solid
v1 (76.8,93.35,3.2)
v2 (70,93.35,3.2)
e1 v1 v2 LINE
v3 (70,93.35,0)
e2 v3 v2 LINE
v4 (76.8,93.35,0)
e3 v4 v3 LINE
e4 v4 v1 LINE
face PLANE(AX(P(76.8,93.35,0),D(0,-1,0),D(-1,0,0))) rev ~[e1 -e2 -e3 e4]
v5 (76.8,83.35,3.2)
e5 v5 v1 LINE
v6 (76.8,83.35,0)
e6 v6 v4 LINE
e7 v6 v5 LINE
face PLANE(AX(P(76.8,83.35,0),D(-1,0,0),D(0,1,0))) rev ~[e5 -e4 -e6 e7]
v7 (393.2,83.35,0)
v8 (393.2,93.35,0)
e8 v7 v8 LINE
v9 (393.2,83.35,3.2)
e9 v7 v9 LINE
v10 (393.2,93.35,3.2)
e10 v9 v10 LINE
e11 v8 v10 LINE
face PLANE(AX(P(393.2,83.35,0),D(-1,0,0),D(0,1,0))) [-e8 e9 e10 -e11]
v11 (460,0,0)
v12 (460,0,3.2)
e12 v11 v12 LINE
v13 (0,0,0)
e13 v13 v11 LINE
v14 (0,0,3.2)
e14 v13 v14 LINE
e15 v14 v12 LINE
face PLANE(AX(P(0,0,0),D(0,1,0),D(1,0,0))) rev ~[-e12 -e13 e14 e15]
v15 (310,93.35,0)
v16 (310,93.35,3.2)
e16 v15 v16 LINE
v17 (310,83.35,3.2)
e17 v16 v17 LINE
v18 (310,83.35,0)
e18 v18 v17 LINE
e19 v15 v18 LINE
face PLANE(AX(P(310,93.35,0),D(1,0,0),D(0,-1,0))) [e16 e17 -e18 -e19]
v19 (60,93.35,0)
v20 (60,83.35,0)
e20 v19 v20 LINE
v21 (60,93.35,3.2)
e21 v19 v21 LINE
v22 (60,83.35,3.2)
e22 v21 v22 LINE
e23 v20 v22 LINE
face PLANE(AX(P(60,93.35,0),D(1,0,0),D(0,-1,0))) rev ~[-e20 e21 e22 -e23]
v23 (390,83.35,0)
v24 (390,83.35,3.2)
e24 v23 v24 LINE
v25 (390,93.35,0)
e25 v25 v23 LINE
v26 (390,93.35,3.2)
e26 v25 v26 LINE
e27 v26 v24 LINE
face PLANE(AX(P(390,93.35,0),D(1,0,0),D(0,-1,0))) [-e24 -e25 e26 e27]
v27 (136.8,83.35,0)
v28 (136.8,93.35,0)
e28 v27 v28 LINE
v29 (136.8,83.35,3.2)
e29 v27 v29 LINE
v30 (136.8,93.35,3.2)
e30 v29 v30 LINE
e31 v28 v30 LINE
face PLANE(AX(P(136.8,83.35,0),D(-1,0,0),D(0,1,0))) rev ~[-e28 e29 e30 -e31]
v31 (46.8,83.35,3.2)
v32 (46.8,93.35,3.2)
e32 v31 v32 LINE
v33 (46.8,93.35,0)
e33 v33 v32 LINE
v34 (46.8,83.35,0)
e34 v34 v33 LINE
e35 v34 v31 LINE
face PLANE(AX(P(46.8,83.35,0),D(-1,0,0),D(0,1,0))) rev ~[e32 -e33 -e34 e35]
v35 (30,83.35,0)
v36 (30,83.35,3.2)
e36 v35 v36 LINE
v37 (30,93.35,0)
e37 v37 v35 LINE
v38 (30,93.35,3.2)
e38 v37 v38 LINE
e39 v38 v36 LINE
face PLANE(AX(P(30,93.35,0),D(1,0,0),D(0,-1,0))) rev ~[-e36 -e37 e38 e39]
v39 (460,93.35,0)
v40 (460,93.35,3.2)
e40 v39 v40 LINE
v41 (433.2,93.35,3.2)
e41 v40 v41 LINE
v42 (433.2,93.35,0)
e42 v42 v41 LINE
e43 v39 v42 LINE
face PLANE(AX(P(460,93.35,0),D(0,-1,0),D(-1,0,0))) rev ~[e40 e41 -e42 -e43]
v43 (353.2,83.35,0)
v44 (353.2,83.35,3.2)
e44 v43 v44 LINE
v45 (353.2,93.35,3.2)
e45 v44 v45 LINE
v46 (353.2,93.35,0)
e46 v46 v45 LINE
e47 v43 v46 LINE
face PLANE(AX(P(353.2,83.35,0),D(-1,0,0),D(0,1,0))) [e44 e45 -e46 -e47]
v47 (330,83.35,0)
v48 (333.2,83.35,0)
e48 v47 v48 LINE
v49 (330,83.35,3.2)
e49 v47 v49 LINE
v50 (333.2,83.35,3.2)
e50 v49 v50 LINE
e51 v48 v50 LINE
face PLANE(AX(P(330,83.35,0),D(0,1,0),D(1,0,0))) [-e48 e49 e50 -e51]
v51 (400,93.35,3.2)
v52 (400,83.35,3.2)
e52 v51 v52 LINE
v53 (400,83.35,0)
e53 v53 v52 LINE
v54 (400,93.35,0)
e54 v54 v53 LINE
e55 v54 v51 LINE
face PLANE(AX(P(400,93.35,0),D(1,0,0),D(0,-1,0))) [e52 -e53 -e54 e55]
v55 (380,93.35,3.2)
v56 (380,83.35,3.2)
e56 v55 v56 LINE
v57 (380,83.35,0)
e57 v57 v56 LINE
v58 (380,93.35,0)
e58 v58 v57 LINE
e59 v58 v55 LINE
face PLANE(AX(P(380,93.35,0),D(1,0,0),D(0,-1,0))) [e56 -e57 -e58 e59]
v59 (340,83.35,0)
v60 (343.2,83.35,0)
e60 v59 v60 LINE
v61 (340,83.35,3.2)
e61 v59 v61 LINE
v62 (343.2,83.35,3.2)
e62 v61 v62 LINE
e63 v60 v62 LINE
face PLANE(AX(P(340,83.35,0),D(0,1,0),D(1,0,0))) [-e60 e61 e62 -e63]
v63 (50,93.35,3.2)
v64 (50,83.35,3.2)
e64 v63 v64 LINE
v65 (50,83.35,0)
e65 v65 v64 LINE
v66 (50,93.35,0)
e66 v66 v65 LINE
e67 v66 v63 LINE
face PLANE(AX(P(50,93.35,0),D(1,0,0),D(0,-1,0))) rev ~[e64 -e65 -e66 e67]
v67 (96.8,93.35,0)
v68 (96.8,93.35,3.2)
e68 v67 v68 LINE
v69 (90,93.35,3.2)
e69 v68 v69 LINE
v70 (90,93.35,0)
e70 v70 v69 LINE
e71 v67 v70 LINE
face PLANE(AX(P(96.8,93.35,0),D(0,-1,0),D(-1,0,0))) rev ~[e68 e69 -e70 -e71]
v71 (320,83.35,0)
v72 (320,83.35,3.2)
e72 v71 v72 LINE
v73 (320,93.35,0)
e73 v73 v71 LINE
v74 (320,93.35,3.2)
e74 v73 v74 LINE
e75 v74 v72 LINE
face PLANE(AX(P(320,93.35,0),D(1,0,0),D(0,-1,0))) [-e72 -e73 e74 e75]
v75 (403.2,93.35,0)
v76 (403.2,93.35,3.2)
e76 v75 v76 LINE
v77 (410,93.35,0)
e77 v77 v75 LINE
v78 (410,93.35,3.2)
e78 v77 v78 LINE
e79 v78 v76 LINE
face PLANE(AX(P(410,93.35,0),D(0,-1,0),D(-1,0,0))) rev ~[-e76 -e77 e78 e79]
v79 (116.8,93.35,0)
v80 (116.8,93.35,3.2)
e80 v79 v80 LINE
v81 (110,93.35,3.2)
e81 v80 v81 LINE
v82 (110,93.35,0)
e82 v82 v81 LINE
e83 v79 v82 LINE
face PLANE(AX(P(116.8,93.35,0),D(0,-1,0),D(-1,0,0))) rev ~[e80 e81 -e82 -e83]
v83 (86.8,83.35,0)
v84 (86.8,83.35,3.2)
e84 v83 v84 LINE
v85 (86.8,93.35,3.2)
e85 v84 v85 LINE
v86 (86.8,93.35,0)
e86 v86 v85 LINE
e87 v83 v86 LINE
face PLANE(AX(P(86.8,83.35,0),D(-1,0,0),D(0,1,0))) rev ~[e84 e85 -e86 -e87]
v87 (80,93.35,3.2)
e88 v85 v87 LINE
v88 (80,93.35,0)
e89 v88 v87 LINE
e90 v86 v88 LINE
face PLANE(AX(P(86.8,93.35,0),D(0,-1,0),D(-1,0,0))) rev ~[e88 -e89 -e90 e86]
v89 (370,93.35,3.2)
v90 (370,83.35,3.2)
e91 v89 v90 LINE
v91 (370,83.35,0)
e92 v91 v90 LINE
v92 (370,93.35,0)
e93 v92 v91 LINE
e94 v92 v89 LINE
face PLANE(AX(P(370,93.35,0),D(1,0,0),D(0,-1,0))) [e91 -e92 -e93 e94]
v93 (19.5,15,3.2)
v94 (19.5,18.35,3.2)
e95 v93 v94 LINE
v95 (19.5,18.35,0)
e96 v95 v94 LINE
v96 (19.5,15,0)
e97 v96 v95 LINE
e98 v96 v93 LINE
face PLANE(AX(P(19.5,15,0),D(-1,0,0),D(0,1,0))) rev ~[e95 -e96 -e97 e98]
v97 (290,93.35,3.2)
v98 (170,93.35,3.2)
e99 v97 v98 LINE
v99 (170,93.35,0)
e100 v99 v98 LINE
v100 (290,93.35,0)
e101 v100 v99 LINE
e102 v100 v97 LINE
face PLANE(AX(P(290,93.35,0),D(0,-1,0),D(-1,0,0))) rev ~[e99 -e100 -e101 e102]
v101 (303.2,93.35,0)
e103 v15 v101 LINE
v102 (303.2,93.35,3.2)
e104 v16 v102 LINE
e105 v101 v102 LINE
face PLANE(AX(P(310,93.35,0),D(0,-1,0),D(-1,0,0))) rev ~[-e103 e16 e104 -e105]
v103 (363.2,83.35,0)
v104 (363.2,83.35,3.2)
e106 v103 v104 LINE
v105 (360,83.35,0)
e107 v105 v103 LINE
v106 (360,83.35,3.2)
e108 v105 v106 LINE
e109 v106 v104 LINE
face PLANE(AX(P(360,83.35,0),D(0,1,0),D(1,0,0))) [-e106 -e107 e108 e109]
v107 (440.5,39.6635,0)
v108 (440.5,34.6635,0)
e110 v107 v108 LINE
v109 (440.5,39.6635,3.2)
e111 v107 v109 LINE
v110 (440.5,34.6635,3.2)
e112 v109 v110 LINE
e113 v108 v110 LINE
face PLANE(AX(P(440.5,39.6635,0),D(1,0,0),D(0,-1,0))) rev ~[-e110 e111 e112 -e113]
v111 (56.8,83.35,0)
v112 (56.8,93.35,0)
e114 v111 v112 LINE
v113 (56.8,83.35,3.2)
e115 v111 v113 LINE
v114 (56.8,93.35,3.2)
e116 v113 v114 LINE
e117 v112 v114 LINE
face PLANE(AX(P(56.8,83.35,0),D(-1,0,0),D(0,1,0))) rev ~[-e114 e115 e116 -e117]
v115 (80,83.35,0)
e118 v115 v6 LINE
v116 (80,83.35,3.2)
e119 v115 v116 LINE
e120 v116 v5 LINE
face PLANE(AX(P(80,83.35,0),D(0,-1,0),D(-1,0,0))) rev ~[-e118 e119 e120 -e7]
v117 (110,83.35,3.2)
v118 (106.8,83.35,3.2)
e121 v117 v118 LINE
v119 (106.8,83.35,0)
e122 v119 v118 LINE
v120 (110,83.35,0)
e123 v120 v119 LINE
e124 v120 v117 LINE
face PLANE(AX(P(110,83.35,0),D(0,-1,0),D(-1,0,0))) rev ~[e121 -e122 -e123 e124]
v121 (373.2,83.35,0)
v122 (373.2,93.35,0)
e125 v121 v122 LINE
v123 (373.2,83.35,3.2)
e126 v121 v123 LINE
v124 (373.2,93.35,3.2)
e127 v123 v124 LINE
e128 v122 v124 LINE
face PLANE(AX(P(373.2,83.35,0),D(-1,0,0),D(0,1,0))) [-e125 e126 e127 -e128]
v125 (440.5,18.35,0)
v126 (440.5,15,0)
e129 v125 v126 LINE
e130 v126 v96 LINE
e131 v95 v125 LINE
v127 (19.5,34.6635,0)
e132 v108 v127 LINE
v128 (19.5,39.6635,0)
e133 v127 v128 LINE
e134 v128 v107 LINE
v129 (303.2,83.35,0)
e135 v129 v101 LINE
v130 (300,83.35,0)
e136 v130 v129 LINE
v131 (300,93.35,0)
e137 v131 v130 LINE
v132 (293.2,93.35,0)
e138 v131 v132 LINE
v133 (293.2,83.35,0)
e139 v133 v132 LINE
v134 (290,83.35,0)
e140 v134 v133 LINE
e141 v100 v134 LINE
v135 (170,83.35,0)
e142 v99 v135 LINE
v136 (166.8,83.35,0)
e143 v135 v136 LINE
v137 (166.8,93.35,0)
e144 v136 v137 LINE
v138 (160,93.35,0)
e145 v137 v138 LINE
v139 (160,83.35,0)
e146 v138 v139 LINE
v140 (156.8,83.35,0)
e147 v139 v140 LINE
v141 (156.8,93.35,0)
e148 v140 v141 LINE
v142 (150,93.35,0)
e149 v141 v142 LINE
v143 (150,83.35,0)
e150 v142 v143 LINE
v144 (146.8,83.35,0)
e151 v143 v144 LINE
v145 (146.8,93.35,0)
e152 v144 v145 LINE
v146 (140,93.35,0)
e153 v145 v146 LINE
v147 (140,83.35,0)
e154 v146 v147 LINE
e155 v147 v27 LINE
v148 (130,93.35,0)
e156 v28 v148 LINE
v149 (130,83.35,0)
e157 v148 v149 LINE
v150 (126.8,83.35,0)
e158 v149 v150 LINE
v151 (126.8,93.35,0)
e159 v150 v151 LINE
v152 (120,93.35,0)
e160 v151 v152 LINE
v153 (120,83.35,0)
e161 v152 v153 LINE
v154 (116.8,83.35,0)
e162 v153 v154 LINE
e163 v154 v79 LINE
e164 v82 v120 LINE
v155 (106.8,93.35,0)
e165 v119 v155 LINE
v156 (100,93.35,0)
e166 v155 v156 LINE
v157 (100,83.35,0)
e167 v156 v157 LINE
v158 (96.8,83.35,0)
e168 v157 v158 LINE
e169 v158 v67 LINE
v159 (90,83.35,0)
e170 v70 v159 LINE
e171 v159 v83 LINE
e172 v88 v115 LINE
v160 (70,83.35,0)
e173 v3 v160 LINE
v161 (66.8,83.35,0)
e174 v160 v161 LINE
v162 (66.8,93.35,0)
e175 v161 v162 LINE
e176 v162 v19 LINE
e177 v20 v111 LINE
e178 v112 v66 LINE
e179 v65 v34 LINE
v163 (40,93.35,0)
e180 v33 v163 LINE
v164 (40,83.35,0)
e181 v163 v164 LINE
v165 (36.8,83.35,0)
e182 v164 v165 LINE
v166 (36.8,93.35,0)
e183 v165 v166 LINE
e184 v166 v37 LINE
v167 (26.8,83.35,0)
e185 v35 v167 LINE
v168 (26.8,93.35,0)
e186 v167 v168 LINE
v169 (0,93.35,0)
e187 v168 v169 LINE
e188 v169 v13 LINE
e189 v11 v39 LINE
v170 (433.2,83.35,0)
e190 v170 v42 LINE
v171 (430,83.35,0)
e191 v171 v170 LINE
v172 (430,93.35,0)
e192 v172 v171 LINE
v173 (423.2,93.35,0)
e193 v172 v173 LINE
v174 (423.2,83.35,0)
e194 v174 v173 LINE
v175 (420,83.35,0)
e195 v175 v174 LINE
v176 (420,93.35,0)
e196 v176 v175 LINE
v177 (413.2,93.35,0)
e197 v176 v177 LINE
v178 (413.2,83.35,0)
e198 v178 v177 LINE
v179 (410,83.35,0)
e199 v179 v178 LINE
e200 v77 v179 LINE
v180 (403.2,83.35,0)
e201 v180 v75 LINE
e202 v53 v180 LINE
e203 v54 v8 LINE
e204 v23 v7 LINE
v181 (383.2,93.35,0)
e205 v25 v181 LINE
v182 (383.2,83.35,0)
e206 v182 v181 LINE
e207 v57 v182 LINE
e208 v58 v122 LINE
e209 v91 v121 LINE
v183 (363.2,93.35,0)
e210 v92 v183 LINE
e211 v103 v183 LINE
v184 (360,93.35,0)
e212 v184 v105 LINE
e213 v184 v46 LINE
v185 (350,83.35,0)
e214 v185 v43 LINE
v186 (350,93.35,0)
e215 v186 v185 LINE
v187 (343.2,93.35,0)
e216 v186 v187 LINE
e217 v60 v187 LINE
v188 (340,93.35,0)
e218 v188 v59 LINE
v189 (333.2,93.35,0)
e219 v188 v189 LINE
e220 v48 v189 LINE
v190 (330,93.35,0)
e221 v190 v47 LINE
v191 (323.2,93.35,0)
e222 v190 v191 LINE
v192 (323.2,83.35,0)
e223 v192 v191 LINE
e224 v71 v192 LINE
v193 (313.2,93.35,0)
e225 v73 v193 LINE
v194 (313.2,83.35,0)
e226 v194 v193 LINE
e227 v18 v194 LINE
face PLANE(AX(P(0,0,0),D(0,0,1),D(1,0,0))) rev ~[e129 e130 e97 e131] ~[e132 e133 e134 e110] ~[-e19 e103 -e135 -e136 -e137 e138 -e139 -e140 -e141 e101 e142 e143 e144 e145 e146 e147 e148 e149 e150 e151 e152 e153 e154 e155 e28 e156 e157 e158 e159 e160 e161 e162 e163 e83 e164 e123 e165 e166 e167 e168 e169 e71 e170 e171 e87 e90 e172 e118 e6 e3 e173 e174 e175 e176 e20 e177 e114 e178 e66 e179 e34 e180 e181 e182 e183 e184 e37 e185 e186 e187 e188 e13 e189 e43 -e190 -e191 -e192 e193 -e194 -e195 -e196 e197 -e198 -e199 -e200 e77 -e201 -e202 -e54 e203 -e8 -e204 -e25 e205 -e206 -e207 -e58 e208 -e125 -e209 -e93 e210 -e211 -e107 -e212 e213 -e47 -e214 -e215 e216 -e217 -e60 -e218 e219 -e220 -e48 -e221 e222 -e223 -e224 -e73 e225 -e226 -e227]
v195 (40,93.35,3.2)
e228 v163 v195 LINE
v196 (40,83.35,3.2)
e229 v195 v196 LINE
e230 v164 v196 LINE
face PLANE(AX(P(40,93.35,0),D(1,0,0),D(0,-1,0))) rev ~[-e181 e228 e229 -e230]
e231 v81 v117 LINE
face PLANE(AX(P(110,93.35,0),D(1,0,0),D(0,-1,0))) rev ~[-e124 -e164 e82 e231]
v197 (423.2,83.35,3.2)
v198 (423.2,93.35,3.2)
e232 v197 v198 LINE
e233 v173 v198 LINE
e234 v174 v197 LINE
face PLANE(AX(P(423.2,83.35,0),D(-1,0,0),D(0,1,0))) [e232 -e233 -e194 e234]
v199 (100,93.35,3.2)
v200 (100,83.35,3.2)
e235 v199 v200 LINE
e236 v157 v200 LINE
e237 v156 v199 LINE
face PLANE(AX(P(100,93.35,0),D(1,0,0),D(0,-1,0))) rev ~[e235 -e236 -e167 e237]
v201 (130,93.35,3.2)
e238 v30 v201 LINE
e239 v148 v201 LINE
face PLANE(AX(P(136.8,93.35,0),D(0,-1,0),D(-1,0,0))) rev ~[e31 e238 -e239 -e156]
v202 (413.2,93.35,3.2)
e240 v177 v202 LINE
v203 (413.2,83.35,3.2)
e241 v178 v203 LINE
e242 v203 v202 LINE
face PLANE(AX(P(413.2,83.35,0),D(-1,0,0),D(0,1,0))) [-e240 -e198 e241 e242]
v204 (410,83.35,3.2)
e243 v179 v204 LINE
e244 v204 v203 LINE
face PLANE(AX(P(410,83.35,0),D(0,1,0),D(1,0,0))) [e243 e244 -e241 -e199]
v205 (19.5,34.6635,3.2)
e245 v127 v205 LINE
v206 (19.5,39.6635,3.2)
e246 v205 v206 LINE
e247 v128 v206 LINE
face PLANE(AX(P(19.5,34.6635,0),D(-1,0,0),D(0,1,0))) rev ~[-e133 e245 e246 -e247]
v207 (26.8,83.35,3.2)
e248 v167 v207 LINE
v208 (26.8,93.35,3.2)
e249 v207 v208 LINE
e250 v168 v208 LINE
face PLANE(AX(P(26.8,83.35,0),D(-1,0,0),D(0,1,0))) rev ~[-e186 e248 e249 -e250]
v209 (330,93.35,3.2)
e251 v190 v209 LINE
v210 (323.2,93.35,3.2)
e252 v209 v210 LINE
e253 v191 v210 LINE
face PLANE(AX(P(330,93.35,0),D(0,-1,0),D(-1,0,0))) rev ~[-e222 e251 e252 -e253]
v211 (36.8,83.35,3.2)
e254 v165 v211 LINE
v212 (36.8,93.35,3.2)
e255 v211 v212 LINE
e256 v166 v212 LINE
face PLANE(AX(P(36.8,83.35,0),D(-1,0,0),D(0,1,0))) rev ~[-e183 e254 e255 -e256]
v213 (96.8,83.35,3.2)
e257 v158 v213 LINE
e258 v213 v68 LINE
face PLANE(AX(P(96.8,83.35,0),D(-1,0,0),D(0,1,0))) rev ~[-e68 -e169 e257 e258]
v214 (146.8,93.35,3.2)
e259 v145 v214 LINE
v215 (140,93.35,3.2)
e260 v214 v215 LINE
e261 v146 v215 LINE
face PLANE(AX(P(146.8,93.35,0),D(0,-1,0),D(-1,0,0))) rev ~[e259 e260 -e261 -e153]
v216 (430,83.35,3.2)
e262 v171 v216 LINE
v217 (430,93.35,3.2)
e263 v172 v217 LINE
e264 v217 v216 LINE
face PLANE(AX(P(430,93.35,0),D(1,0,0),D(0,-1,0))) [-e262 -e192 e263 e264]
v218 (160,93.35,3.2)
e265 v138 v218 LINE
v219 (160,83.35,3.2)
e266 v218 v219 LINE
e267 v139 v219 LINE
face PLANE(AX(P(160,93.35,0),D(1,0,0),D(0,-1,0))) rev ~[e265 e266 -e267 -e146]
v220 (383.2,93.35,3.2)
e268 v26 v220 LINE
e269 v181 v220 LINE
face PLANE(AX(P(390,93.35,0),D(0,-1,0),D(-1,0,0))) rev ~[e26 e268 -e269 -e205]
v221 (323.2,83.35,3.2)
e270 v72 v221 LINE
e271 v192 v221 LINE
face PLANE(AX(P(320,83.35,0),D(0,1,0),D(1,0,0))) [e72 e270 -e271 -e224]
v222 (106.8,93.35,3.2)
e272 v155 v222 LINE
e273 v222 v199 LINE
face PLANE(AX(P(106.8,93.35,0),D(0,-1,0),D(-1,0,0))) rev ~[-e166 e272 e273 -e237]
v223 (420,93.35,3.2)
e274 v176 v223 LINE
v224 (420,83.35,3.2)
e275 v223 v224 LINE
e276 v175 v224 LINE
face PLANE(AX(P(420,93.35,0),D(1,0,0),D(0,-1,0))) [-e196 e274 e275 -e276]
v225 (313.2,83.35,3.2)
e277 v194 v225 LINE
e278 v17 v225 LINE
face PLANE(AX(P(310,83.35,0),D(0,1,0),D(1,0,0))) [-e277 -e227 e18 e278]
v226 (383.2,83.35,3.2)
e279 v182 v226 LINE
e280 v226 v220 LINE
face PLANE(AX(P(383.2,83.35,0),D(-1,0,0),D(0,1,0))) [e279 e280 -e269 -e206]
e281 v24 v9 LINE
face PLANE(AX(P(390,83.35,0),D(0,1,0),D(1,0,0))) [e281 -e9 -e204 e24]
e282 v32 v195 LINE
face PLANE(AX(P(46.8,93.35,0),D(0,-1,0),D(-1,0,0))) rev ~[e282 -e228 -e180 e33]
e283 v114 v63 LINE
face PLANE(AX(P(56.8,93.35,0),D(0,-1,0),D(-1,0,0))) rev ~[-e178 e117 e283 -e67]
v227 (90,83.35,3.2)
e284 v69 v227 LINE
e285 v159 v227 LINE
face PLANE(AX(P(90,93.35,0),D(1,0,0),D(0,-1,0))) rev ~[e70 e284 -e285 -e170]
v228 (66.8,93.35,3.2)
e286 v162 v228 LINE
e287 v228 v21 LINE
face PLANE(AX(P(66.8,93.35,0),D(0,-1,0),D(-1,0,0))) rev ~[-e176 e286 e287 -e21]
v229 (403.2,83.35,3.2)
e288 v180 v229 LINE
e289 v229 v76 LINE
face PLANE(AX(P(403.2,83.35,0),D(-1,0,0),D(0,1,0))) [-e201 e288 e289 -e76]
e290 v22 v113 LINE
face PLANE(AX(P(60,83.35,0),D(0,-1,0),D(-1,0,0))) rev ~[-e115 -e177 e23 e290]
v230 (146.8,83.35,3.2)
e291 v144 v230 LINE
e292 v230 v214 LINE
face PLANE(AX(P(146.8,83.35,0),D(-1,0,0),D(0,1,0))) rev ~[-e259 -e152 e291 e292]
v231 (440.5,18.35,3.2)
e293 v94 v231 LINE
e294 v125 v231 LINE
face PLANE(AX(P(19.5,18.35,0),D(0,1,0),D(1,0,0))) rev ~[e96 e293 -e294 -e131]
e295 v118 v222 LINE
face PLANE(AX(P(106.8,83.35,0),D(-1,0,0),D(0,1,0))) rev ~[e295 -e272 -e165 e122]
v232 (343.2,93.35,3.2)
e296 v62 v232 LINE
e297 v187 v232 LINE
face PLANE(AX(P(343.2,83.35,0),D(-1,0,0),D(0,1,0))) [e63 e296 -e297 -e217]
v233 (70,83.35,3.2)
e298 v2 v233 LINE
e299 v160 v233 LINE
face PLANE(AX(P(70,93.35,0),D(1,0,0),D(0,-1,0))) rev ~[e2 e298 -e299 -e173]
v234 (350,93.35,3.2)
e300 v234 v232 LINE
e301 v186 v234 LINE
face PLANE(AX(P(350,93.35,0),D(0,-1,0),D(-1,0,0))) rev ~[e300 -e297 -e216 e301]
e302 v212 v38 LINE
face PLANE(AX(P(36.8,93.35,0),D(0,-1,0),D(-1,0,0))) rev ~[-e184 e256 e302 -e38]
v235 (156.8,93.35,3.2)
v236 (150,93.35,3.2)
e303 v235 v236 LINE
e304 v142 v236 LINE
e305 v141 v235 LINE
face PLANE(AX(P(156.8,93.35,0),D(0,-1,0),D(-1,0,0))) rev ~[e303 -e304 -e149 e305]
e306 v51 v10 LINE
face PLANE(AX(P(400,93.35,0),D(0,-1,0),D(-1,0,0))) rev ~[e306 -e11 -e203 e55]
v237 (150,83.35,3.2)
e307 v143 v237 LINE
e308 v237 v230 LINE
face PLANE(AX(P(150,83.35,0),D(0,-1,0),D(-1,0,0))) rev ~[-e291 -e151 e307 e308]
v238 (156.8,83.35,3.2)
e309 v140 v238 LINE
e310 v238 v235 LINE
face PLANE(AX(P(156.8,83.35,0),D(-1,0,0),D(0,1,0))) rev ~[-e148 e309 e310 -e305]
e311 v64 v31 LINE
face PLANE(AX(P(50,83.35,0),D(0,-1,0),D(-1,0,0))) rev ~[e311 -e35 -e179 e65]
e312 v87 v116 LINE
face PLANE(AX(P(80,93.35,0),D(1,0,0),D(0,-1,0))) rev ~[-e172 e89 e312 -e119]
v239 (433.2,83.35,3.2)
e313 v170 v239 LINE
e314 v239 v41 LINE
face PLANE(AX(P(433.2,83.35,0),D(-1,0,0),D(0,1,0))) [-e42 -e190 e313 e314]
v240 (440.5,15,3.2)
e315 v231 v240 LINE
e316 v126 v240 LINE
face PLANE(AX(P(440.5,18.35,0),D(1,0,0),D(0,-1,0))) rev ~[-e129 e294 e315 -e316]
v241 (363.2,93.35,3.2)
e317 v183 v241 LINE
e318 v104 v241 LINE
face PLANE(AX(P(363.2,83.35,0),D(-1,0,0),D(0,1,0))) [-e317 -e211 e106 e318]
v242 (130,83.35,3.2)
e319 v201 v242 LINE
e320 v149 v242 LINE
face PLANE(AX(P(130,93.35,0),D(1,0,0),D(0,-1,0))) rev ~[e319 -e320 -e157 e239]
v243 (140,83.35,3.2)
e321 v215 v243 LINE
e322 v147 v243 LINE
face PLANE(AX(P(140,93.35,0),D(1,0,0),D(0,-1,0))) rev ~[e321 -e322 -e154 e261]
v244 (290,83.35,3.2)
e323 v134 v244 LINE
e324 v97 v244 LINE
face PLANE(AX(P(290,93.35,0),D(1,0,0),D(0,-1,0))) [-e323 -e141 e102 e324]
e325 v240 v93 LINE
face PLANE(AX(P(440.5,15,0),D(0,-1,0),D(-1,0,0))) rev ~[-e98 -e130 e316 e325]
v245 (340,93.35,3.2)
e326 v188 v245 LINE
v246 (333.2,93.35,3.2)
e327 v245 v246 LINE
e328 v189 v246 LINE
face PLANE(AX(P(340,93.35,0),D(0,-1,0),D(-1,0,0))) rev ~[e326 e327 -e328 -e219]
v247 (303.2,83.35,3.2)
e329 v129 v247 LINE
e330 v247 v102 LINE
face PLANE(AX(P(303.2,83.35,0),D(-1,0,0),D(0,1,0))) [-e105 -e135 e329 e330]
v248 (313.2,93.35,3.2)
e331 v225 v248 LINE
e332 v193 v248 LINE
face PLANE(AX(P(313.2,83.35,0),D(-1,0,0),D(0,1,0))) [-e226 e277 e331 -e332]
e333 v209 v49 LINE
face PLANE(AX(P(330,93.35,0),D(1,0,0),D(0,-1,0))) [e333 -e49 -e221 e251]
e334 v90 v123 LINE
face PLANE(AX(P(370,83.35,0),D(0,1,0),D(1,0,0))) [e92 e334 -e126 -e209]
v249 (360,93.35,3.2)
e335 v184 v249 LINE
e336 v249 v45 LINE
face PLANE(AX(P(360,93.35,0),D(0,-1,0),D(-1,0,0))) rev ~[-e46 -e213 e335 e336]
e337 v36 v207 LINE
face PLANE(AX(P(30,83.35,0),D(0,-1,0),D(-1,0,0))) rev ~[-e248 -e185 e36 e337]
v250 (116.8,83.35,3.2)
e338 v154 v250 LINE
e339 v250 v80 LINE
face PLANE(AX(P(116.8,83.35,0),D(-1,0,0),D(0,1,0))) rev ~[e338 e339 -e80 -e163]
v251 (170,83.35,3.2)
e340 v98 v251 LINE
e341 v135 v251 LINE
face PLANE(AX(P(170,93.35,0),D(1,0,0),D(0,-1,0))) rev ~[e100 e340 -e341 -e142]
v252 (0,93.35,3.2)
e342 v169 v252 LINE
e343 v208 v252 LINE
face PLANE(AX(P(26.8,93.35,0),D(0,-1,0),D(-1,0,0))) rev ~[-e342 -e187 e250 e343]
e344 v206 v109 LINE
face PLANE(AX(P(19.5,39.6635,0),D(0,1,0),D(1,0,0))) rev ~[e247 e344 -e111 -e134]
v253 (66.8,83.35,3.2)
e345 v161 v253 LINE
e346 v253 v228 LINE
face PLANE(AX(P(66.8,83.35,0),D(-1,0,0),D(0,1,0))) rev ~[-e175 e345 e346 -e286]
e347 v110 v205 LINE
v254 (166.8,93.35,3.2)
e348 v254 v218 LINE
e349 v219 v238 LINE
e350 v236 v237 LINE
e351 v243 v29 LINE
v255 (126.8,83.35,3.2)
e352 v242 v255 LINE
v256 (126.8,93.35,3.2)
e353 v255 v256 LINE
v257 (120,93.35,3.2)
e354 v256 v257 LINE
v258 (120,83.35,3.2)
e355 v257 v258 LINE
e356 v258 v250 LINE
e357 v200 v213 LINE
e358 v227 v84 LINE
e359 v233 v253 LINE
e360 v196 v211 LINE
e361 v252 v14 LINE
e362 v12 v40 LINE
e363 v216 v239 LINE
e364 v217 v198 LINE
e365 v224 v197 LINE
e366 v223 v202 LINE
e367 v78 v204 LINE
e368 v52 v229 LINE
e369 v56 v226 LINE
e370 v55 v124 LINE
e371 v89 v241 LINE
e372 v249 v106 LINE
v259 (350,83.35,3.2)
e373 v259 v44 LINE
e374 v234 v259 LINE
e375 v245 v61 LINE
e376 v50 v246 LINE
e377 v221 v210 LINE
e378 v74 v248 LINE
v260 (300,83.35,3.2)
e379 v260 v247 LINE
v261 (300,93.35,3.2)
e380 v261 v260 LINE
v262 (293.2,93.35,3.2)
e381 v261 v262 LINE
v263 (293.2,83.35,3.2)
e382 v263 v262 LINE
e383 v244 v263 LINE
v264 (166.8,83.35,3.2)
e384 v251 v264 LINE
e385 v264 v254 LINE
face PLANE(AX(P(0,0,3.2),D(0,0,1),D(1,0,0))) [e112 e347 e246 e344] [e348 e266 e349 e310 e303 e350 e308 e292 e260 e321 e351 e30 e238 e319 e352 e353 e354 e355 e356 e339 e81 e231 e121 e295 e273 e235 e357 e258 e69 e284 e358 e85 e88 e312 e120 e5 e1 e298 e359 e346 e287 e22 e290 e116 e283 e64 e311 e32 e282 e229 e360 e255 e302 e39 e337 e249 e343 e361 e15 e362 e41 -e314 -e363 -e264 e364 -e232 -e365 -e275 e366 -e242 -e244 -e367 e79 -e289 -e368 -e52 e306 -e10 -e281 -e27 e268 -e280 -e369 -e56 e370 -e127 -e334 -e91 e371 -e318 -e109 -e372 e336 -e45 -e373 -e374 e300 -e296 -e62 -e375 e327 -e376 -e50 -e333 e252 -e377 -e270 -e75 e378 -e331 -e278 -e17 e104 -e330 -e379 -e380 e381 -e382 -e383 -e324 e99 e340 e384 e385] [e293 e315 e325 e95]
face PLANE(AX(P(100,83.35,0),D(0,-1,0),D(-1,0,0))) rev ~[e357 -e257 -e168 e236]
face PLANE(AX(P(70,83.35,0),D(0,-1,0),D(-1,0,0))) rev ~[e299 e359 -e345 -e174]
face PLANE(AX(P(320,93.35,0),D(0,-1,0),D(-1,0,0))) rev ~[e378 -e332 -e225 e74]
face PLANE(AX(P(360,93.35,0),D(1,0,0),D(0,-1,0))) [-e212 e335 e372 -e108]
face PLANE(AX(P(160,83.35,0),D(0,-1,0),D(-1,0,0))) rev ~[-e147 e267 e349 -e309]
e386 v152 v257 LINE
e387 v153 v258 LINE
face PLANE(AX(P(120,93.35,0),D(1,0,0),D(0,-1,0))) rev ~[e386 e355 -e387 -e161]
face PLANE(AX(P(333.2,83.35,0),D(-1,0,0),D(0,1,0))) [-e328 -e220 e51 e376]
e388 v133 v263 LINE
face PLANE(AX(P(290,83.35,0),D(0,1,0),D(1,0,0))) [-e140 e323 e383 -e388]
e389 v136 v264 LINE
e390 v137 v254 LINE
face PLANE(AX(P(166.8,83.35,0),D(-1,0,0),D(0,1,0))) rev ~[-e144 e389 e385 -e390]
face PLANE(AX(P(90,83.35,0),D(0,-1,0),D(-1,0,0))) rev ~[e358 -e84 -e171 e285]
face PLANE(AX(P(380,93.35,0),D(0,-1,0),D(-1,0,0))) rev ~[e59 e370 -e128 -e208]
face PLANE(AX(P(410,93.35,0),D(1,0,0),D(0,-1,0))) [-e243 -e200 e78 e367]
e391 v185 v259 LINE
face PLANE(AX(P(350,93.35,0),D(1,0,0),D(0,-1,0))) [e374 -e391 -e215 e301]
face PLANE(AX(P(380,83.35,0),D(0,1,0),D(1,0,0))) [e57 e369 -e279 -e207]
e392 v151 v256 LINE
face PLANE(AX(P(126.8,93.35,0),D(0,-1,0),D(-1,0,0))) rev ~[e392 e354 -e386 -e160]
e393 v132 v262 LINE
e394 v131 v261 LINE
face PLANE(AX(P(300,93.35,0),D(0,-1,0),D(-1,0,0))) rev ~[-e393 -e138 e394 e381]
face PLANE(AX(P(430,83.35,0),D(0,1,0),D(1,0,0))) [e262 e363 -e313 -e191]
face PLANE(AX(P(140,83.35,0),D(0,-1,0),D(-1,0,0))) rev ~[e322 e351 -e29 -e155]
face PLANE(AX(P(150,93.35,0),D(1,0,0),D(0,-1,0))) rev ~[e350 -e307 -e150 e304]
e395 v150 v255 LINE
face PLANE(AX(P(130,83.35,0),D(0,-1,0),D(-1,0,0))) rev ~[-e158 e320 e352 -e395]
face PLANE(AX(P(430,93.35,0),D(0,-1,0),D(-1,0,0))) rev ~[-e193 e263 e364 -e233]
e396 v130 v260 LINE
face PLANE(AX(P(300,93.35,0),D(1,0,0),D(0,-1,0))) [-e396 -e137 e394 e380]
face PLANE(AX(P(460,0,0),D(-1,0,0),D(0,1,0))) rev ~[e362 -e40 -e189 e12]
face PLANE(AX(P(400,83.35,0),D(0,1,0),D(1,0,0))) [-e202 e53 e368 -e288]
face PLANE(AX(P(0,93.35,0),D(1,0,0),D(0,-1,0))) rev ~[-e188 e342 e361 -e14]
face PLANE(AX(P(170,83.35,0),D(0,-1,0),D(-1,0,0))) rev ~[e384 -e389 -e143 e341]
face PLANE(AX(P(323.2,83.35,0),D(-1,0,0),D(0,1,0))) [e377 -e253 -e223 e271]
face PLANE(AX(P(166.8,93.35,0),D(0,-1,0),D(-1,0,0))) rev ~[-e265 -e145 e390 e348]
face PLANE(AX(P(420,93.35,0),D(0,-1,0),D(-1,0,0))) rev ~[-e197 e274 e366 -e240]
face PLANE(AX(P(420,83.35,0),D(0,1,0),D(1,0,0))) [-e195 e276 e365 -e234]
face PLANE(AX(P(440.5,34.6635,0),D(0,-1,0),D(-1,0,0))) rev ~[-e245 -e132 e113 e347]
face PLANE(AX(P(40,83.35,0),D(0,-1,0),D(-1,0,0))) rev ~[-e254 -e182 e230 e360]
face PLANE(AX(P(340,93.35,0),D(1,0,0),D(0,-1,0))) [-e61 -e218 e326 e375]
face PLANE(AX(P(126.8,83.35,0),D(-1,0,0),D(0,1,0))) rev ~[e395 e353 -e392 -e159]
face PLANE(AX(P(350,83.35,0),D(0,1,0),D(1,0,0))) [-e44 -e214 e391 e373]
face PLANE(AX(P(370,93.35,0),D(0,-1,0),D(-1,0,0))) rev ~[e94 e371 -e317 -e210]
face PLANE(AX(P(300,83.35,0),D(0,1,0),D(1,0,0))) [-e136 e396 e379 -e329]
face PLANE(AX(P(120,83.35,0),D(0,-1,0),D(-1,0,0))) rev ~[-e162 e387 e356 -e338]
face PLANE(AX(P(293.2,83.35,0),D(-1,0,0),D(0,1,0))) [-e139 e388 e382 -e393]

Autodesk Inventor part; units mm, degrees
ref_plane "YZ Plane" through (0, 0, 0) normal (1, 0, 0) x (0, 1, 0)
ref_plane "XZ Plane" through (0, 0, 0) normal (0, 1, 0) x (-1, 0, 0)
ref_plane "XY Plane" through (0, 0, 0) normal (0, 0, 1) x (1, 0, 0)
sketch "Sketch1" plane through (0, 0, 0) normal (0, 0, 1) x (1, 0, 0)
  line L0 (0, 0) -> (460, 0)
  line L1 (460, 0) -> (460, 93.35)
  line L2 (460, 93.35) -> (0, 93.35)
  line L3 (0, 93.35) -> (0, 0)
  line L4 (19.5, 18.35) -> (440.5, 18.35)
  line L5 (440.5, 18.35) -> (440.5, 15)
  line L6 (440.5, 15) -> (19.5, 15)
  line L7 (19.5, 15) -> (19.5, 18.35)
  line L8 (26.8, 93.35) -> (30, 93.35)
  line L9 (30, 93.35) -> (30, 83.35)
  line L10 (30, 83.35) -> (26.8, 83.35)
  line L11 (26.8, 83.35) -> (26.8, 93.35)
  line L12 (230, 0) -> (230, 93.35) construction
  line L13 (40, 93.35) -> (40, 83.35)
  line L14 (40, 83.35) -> (36.8, 83.35)
  line L15 (36.8, 83.35) -> (36.8, 93.35)
  line L16 (36.8, 93.35) -> (40, 93.35)
  line L17 (50, 93.35) -> (50, 83.35)
  line L18 (50, 83.35) -> (46.8, 83.35)
  line L19 (46.8, 83.35) -> (46.8, 93.35)
  line L20 (46.8, 93.35) -> (50, 93.35)
  line L21 (60, 93.35) -> (60, 83.35)
  line L22 (60, 83.35) -> (56.8, 83.35)
  line L23 (56.8, 83.35) -> (56.8, 93.35)
  line L24 (56.8, 93.35) -> (60, 93.35)
  line L25 (70, 93.35) -> (70, 83.35)
  line L26 (70, 83.35) -> (66.8, 83.35)
  line L27 (66.8, 83.35) -> (66.8, 93.35)
  line L28 (66.8, 93.35) -> (70, 93.35)
  line L29 (80, 93.35) -> (80, 83.35)
  line L30 (80, 83.35) -> (76.8, 83.35)
  line L31 (76.8, 83.35) -> (76.8, 93.35)
  line L32 (76.8, 93.35) -> (80, 93.35)
  line L33 (90, 93.35) -> (90, 83.35)
  line L34 (90, 83.35) -> (86.8, 83.35)
  line L35 (86.8, 83.35) -> (86.8, 93.35)
  line L36 (86.8, 93.35) -> (90, 93.35)
  line L37 (100, 93.35) -> (100, 83.35)
  line L38 (100, 83.35) -> (96.8, 83.35)
  line L39 (96.8, 83.35) -> (96.8, 93.35)
  line L40 (96.8, 93.35) -> (100, 93.35)
  line L41 (110, 93.35) -> (110, 83.35)
  line L42 (110, 83.35) -> (106.8, 83.35)
  line L43 (106.8, 83.35) -> (106.8, 93.35)
  line L44 (106.8, 93.35) -> (110, 93.35)
  line L45 (120, 93.35) -> (120, 83.35)
  line L46 (120, 83.35) -> (116.8, 83.35)
  line L47 (116.8, 83.35) -> (116.8, 93.35)
  line L48 (116.8, 93.35) -> (120, 93.35)
  line L49 (130, 93.35) -> (130, 83.35)
  line L50 (130, 83.35) -> (126.8, 83.35)
  line L51 (126.8, 83.35) -> (126.8, 93.35)
  line L52 (126.8, 93.35) -> (130, 93.35)
  line L53 (140, 93.35) -> (140, 83.35)
  line L54 (140, 83.35) -> (136.8, 83.35)
  line L55 (136.8, 83.35) -> (136.8, 93.35)
  line L56 (136.8, 93.35) -> (140, 93.35)
  line L57 (150, 93.35) -> (150, 83.35)
  line L58 (150, 83.35) -> (146.8, 83.35)
  line L59 (146.8, 83.35) -> (146.8, 93.35)
  line L60 (146.8, 93.35) -> (150, 93.35)
  line L61 (160, 93.35) -> (160, 83.35)
  line L62 (160, 83.35) -> (156.8, 83.35)
  line L63 (156.8, 83.35) -> (156.8, 93.35)
  line L64 (156.8, 93.35) -> (160, 93.35)
  line L65 (170, 93.35) -> (170, 83.35)
  line L66 (170, 83.35) -> (166.8, 83.35)
  line L67 (166.8, 83.35) -> (166.8, 93.35)
  line L68 (166.8, 93.35) -> (170, 93.35)
  line L69 (433.2, 93.35) -> (430, 93.35)
  line L70 (430, 93.35) -> (430, 83.35)
  line L71 (430, 83.35) -> (433.2, 83.35)
  line L72 (433.2, 83.35) -> (433.2, 93.35)
  line L73 (420, 93.35) -> (420, 83.35)
  line L74 (420, 83.35) -> (423.2, 83.35)
  line L75 (423.2, 83.35) -> (423.2, 93.35)
  line L76 (423.2, 93.35) -> (420, 93.35)
  line L77 (410, 93.35) -> (410, 83.35)
  line L78 (410, 83.35) -> (413.2, 83.35)
  line L79 (413.2, 83.35) -> (413.2, 93.35)
  line L80 (413.2, 93.35) -> (410, 93.35)
  line L81 (400, 93.35) -> (400, 83.35)
  line L82 (400, 83.35) -> (403.2, 83.35)
  line L83 (403.2, 83.35) -> (403.2, 93.35)
  line L84 (403.2, 93.35) -> (400, 93.35)
  line L85 (390, 93.35) -> (390, 83.35)
  line L86 (390, 83.35) -> (393.2, 83.35)
  line L87 (393.2, 83.35) -> (393.2, 93.35)
  line L88 (393.2, 93.35) -> (390, 93.35)
  line L89 (380, 93.35) -> (380, 83.35)
  line L90 (380, 83.35) -> (383.2, 83.35)
  line L91 (383.2, 83.35) -> (383.2, 93.35)
  line L92 (383.2, 93.35) -> (380, 93.35)
  line L93 (370, 93.35) -> (370, 83.35)
  line L94 (370, 83.35) -> (373.2, 83.35)
  line L95 (373.2, 83.35) -> (373.2, 93.35)
  line L96 (373.2, 93.35) -> (370, 93.35)
  line L97 (360, 93.35) -> (360, 83.35)
  line L98 (360, 83.35) -> (363.2, 83.35)
  line L99 (363.2, 83.35) -> (363.2, 93.35)
  line L100 (363.2, 93.35) -> (360, 93.35)
  line L101 (350, 93.35) -> (350, 83.35)
  line L102 (350, 83.35) -> (353.2, 83.35)
  line L103 (353.2, 83.35) -> (353.2, 93.35)
  line L104 (353.2, 93.35) -> (350, 93.35)
  line L105 (340, 93.35) -> (340, 83.35)
  line L106 (340, 83.35) -> (343.2, 83.35)
  line L107 (343.2, 83.35) -> (343.2, 93.35)
  line L108 (343.2, 93.35) -> (340, 93.35)
  line L109 (330, 93.35) -> (330, 83.35)
  line L110 (330, 83.35) -> (333.2, 83.35)
  line L111 (333.2, 83.35) -> (333.2, 93.35)
  line L112 (333.2, 93.35) -> (330, 93.35)
  line L113 (320, 93.35) -> (320, 83.35)
  line L114 (320, 83.35) -> (323.2, 83.35)
  line L115 (323.2, 83.35) -> (323.2, 93.35)
  line L116 (323.2, 93.35) -> (320, 93.35)
  line L117 (310, 93.35) -> (310, 83.35)
  line L118 (310, 83.35) -> (313.2, 83.35)
  line L119 (313.2, 83.35) -> (313.2, 93.35)
  line L120 (313.2, 93.35) -> (310, 93.35)
  line L121 (300, 93.35) -> (300, 83.35)
  line L122 (300, 83.35) -> (303.2, 83.35)
  line L123 (303.2, 83.35) -> (303.2, 93.35)
  line L124 (303.2, 93.35) -> (300, 93.35)
  line L125 (290, 93.35) -> (290, 83.35)
  line L126 (290, 83.35) -> (293.2, 83.35)
  line L127 (293.2, 83.35) -> (293.2, 93.35)
  line L128 (293.2, 93.35) -> (290, 93.35)
  line L129 (19.5, 39.6635) -> (440.5, 39.6635)
  line L130 (440.5, 39.6635) -> (440.5, 34.6635)
  line L131 (440.5, 34.6635) -> (19.5, 34.6635)
  line L132 (19.5, 34.6635) -> (19.5, 39.6635)
  point P0 (230, 15)
  point P1 (170, 93.35)
  point P2 (166.8, 93.35)
  point P3 (160, 93.35)
  point P4 (156.8, 93.35)
  point P5 (150, 93.35)
  point P6 (146.8, 93.35)
  point P7 (140, 93.35)
  point P8 (136.8, 93.35)
  point P9 (130, 93.35)
  point P10 (126.8, 93.35)
  point P11 (120, 93.35)
  point P12 (116.8, 93.35)
  point P13 (110, 93.35)
  point P14 (106.8, 93.35)
  point P15 (100, 93.35)
  point P16 (96.8, 93.35)
  point P17 (90, 93.35)
  point P18 (86.8, 93.35)
  point P19 (80, 93.35)
  point P20 (76.8, 93.35)
  point P21 (70, 93.35)
  point P22 (66.8, 93.35)
  point P23 (60, 93.35)
  point P24 (56.8, 93.35)
  point P25 (50, 93.35)
  point P26 (46.8, 93.35)
  point P27 (40, 93.35)
  point P28 (36.8, 93.35)
  point P29 (30, 93.35)
  point P30 (230, 39.6635)
  dimension "d0" = 460
  dimension "d2" = 421
  dimension "d3" = 3.35
  dimension "d4" = 75
  dimension "d5" = 15
  dimension "d6" = 3.2
  dimension "d7" = 10
  dimension "d8" = 26.8
  dimension "d11" = 10
  dimension "d18" = 5
  dimension "d19" = 16.3135
extrude "Extrusion1" add sketch "Sketch1" along normal blind 3.2 contours L3 L2 L11 L10 L9 L15 L14 L13 L19 L18 L17 L23 L22 L21 L27 L26 L25 L31 L30 L29 L35 L34 L33 L39 L38 L37 L43 L42 L41 L47 L46 L45 L51 L50 L49 L55 L54 L53 L59 L58 L57 L63 L62 L61 L67 L66 L65 L125 L126 L127 L121 L122 L123 L117 L118 L119 L113 L114 L115 L109 L110 L111 L105 L106 L107 L101 L102 L103 L97 L98 L99 L93 L94 L95 L89 L90 L91 L85 L86 L87 L81 L82 L83 L77 L78 L79 L73 L74 L75 L70 L71 L72 L1 L0
properties part number "PARED_MODULAR" material "MDF Medium Density Fiberboard"
